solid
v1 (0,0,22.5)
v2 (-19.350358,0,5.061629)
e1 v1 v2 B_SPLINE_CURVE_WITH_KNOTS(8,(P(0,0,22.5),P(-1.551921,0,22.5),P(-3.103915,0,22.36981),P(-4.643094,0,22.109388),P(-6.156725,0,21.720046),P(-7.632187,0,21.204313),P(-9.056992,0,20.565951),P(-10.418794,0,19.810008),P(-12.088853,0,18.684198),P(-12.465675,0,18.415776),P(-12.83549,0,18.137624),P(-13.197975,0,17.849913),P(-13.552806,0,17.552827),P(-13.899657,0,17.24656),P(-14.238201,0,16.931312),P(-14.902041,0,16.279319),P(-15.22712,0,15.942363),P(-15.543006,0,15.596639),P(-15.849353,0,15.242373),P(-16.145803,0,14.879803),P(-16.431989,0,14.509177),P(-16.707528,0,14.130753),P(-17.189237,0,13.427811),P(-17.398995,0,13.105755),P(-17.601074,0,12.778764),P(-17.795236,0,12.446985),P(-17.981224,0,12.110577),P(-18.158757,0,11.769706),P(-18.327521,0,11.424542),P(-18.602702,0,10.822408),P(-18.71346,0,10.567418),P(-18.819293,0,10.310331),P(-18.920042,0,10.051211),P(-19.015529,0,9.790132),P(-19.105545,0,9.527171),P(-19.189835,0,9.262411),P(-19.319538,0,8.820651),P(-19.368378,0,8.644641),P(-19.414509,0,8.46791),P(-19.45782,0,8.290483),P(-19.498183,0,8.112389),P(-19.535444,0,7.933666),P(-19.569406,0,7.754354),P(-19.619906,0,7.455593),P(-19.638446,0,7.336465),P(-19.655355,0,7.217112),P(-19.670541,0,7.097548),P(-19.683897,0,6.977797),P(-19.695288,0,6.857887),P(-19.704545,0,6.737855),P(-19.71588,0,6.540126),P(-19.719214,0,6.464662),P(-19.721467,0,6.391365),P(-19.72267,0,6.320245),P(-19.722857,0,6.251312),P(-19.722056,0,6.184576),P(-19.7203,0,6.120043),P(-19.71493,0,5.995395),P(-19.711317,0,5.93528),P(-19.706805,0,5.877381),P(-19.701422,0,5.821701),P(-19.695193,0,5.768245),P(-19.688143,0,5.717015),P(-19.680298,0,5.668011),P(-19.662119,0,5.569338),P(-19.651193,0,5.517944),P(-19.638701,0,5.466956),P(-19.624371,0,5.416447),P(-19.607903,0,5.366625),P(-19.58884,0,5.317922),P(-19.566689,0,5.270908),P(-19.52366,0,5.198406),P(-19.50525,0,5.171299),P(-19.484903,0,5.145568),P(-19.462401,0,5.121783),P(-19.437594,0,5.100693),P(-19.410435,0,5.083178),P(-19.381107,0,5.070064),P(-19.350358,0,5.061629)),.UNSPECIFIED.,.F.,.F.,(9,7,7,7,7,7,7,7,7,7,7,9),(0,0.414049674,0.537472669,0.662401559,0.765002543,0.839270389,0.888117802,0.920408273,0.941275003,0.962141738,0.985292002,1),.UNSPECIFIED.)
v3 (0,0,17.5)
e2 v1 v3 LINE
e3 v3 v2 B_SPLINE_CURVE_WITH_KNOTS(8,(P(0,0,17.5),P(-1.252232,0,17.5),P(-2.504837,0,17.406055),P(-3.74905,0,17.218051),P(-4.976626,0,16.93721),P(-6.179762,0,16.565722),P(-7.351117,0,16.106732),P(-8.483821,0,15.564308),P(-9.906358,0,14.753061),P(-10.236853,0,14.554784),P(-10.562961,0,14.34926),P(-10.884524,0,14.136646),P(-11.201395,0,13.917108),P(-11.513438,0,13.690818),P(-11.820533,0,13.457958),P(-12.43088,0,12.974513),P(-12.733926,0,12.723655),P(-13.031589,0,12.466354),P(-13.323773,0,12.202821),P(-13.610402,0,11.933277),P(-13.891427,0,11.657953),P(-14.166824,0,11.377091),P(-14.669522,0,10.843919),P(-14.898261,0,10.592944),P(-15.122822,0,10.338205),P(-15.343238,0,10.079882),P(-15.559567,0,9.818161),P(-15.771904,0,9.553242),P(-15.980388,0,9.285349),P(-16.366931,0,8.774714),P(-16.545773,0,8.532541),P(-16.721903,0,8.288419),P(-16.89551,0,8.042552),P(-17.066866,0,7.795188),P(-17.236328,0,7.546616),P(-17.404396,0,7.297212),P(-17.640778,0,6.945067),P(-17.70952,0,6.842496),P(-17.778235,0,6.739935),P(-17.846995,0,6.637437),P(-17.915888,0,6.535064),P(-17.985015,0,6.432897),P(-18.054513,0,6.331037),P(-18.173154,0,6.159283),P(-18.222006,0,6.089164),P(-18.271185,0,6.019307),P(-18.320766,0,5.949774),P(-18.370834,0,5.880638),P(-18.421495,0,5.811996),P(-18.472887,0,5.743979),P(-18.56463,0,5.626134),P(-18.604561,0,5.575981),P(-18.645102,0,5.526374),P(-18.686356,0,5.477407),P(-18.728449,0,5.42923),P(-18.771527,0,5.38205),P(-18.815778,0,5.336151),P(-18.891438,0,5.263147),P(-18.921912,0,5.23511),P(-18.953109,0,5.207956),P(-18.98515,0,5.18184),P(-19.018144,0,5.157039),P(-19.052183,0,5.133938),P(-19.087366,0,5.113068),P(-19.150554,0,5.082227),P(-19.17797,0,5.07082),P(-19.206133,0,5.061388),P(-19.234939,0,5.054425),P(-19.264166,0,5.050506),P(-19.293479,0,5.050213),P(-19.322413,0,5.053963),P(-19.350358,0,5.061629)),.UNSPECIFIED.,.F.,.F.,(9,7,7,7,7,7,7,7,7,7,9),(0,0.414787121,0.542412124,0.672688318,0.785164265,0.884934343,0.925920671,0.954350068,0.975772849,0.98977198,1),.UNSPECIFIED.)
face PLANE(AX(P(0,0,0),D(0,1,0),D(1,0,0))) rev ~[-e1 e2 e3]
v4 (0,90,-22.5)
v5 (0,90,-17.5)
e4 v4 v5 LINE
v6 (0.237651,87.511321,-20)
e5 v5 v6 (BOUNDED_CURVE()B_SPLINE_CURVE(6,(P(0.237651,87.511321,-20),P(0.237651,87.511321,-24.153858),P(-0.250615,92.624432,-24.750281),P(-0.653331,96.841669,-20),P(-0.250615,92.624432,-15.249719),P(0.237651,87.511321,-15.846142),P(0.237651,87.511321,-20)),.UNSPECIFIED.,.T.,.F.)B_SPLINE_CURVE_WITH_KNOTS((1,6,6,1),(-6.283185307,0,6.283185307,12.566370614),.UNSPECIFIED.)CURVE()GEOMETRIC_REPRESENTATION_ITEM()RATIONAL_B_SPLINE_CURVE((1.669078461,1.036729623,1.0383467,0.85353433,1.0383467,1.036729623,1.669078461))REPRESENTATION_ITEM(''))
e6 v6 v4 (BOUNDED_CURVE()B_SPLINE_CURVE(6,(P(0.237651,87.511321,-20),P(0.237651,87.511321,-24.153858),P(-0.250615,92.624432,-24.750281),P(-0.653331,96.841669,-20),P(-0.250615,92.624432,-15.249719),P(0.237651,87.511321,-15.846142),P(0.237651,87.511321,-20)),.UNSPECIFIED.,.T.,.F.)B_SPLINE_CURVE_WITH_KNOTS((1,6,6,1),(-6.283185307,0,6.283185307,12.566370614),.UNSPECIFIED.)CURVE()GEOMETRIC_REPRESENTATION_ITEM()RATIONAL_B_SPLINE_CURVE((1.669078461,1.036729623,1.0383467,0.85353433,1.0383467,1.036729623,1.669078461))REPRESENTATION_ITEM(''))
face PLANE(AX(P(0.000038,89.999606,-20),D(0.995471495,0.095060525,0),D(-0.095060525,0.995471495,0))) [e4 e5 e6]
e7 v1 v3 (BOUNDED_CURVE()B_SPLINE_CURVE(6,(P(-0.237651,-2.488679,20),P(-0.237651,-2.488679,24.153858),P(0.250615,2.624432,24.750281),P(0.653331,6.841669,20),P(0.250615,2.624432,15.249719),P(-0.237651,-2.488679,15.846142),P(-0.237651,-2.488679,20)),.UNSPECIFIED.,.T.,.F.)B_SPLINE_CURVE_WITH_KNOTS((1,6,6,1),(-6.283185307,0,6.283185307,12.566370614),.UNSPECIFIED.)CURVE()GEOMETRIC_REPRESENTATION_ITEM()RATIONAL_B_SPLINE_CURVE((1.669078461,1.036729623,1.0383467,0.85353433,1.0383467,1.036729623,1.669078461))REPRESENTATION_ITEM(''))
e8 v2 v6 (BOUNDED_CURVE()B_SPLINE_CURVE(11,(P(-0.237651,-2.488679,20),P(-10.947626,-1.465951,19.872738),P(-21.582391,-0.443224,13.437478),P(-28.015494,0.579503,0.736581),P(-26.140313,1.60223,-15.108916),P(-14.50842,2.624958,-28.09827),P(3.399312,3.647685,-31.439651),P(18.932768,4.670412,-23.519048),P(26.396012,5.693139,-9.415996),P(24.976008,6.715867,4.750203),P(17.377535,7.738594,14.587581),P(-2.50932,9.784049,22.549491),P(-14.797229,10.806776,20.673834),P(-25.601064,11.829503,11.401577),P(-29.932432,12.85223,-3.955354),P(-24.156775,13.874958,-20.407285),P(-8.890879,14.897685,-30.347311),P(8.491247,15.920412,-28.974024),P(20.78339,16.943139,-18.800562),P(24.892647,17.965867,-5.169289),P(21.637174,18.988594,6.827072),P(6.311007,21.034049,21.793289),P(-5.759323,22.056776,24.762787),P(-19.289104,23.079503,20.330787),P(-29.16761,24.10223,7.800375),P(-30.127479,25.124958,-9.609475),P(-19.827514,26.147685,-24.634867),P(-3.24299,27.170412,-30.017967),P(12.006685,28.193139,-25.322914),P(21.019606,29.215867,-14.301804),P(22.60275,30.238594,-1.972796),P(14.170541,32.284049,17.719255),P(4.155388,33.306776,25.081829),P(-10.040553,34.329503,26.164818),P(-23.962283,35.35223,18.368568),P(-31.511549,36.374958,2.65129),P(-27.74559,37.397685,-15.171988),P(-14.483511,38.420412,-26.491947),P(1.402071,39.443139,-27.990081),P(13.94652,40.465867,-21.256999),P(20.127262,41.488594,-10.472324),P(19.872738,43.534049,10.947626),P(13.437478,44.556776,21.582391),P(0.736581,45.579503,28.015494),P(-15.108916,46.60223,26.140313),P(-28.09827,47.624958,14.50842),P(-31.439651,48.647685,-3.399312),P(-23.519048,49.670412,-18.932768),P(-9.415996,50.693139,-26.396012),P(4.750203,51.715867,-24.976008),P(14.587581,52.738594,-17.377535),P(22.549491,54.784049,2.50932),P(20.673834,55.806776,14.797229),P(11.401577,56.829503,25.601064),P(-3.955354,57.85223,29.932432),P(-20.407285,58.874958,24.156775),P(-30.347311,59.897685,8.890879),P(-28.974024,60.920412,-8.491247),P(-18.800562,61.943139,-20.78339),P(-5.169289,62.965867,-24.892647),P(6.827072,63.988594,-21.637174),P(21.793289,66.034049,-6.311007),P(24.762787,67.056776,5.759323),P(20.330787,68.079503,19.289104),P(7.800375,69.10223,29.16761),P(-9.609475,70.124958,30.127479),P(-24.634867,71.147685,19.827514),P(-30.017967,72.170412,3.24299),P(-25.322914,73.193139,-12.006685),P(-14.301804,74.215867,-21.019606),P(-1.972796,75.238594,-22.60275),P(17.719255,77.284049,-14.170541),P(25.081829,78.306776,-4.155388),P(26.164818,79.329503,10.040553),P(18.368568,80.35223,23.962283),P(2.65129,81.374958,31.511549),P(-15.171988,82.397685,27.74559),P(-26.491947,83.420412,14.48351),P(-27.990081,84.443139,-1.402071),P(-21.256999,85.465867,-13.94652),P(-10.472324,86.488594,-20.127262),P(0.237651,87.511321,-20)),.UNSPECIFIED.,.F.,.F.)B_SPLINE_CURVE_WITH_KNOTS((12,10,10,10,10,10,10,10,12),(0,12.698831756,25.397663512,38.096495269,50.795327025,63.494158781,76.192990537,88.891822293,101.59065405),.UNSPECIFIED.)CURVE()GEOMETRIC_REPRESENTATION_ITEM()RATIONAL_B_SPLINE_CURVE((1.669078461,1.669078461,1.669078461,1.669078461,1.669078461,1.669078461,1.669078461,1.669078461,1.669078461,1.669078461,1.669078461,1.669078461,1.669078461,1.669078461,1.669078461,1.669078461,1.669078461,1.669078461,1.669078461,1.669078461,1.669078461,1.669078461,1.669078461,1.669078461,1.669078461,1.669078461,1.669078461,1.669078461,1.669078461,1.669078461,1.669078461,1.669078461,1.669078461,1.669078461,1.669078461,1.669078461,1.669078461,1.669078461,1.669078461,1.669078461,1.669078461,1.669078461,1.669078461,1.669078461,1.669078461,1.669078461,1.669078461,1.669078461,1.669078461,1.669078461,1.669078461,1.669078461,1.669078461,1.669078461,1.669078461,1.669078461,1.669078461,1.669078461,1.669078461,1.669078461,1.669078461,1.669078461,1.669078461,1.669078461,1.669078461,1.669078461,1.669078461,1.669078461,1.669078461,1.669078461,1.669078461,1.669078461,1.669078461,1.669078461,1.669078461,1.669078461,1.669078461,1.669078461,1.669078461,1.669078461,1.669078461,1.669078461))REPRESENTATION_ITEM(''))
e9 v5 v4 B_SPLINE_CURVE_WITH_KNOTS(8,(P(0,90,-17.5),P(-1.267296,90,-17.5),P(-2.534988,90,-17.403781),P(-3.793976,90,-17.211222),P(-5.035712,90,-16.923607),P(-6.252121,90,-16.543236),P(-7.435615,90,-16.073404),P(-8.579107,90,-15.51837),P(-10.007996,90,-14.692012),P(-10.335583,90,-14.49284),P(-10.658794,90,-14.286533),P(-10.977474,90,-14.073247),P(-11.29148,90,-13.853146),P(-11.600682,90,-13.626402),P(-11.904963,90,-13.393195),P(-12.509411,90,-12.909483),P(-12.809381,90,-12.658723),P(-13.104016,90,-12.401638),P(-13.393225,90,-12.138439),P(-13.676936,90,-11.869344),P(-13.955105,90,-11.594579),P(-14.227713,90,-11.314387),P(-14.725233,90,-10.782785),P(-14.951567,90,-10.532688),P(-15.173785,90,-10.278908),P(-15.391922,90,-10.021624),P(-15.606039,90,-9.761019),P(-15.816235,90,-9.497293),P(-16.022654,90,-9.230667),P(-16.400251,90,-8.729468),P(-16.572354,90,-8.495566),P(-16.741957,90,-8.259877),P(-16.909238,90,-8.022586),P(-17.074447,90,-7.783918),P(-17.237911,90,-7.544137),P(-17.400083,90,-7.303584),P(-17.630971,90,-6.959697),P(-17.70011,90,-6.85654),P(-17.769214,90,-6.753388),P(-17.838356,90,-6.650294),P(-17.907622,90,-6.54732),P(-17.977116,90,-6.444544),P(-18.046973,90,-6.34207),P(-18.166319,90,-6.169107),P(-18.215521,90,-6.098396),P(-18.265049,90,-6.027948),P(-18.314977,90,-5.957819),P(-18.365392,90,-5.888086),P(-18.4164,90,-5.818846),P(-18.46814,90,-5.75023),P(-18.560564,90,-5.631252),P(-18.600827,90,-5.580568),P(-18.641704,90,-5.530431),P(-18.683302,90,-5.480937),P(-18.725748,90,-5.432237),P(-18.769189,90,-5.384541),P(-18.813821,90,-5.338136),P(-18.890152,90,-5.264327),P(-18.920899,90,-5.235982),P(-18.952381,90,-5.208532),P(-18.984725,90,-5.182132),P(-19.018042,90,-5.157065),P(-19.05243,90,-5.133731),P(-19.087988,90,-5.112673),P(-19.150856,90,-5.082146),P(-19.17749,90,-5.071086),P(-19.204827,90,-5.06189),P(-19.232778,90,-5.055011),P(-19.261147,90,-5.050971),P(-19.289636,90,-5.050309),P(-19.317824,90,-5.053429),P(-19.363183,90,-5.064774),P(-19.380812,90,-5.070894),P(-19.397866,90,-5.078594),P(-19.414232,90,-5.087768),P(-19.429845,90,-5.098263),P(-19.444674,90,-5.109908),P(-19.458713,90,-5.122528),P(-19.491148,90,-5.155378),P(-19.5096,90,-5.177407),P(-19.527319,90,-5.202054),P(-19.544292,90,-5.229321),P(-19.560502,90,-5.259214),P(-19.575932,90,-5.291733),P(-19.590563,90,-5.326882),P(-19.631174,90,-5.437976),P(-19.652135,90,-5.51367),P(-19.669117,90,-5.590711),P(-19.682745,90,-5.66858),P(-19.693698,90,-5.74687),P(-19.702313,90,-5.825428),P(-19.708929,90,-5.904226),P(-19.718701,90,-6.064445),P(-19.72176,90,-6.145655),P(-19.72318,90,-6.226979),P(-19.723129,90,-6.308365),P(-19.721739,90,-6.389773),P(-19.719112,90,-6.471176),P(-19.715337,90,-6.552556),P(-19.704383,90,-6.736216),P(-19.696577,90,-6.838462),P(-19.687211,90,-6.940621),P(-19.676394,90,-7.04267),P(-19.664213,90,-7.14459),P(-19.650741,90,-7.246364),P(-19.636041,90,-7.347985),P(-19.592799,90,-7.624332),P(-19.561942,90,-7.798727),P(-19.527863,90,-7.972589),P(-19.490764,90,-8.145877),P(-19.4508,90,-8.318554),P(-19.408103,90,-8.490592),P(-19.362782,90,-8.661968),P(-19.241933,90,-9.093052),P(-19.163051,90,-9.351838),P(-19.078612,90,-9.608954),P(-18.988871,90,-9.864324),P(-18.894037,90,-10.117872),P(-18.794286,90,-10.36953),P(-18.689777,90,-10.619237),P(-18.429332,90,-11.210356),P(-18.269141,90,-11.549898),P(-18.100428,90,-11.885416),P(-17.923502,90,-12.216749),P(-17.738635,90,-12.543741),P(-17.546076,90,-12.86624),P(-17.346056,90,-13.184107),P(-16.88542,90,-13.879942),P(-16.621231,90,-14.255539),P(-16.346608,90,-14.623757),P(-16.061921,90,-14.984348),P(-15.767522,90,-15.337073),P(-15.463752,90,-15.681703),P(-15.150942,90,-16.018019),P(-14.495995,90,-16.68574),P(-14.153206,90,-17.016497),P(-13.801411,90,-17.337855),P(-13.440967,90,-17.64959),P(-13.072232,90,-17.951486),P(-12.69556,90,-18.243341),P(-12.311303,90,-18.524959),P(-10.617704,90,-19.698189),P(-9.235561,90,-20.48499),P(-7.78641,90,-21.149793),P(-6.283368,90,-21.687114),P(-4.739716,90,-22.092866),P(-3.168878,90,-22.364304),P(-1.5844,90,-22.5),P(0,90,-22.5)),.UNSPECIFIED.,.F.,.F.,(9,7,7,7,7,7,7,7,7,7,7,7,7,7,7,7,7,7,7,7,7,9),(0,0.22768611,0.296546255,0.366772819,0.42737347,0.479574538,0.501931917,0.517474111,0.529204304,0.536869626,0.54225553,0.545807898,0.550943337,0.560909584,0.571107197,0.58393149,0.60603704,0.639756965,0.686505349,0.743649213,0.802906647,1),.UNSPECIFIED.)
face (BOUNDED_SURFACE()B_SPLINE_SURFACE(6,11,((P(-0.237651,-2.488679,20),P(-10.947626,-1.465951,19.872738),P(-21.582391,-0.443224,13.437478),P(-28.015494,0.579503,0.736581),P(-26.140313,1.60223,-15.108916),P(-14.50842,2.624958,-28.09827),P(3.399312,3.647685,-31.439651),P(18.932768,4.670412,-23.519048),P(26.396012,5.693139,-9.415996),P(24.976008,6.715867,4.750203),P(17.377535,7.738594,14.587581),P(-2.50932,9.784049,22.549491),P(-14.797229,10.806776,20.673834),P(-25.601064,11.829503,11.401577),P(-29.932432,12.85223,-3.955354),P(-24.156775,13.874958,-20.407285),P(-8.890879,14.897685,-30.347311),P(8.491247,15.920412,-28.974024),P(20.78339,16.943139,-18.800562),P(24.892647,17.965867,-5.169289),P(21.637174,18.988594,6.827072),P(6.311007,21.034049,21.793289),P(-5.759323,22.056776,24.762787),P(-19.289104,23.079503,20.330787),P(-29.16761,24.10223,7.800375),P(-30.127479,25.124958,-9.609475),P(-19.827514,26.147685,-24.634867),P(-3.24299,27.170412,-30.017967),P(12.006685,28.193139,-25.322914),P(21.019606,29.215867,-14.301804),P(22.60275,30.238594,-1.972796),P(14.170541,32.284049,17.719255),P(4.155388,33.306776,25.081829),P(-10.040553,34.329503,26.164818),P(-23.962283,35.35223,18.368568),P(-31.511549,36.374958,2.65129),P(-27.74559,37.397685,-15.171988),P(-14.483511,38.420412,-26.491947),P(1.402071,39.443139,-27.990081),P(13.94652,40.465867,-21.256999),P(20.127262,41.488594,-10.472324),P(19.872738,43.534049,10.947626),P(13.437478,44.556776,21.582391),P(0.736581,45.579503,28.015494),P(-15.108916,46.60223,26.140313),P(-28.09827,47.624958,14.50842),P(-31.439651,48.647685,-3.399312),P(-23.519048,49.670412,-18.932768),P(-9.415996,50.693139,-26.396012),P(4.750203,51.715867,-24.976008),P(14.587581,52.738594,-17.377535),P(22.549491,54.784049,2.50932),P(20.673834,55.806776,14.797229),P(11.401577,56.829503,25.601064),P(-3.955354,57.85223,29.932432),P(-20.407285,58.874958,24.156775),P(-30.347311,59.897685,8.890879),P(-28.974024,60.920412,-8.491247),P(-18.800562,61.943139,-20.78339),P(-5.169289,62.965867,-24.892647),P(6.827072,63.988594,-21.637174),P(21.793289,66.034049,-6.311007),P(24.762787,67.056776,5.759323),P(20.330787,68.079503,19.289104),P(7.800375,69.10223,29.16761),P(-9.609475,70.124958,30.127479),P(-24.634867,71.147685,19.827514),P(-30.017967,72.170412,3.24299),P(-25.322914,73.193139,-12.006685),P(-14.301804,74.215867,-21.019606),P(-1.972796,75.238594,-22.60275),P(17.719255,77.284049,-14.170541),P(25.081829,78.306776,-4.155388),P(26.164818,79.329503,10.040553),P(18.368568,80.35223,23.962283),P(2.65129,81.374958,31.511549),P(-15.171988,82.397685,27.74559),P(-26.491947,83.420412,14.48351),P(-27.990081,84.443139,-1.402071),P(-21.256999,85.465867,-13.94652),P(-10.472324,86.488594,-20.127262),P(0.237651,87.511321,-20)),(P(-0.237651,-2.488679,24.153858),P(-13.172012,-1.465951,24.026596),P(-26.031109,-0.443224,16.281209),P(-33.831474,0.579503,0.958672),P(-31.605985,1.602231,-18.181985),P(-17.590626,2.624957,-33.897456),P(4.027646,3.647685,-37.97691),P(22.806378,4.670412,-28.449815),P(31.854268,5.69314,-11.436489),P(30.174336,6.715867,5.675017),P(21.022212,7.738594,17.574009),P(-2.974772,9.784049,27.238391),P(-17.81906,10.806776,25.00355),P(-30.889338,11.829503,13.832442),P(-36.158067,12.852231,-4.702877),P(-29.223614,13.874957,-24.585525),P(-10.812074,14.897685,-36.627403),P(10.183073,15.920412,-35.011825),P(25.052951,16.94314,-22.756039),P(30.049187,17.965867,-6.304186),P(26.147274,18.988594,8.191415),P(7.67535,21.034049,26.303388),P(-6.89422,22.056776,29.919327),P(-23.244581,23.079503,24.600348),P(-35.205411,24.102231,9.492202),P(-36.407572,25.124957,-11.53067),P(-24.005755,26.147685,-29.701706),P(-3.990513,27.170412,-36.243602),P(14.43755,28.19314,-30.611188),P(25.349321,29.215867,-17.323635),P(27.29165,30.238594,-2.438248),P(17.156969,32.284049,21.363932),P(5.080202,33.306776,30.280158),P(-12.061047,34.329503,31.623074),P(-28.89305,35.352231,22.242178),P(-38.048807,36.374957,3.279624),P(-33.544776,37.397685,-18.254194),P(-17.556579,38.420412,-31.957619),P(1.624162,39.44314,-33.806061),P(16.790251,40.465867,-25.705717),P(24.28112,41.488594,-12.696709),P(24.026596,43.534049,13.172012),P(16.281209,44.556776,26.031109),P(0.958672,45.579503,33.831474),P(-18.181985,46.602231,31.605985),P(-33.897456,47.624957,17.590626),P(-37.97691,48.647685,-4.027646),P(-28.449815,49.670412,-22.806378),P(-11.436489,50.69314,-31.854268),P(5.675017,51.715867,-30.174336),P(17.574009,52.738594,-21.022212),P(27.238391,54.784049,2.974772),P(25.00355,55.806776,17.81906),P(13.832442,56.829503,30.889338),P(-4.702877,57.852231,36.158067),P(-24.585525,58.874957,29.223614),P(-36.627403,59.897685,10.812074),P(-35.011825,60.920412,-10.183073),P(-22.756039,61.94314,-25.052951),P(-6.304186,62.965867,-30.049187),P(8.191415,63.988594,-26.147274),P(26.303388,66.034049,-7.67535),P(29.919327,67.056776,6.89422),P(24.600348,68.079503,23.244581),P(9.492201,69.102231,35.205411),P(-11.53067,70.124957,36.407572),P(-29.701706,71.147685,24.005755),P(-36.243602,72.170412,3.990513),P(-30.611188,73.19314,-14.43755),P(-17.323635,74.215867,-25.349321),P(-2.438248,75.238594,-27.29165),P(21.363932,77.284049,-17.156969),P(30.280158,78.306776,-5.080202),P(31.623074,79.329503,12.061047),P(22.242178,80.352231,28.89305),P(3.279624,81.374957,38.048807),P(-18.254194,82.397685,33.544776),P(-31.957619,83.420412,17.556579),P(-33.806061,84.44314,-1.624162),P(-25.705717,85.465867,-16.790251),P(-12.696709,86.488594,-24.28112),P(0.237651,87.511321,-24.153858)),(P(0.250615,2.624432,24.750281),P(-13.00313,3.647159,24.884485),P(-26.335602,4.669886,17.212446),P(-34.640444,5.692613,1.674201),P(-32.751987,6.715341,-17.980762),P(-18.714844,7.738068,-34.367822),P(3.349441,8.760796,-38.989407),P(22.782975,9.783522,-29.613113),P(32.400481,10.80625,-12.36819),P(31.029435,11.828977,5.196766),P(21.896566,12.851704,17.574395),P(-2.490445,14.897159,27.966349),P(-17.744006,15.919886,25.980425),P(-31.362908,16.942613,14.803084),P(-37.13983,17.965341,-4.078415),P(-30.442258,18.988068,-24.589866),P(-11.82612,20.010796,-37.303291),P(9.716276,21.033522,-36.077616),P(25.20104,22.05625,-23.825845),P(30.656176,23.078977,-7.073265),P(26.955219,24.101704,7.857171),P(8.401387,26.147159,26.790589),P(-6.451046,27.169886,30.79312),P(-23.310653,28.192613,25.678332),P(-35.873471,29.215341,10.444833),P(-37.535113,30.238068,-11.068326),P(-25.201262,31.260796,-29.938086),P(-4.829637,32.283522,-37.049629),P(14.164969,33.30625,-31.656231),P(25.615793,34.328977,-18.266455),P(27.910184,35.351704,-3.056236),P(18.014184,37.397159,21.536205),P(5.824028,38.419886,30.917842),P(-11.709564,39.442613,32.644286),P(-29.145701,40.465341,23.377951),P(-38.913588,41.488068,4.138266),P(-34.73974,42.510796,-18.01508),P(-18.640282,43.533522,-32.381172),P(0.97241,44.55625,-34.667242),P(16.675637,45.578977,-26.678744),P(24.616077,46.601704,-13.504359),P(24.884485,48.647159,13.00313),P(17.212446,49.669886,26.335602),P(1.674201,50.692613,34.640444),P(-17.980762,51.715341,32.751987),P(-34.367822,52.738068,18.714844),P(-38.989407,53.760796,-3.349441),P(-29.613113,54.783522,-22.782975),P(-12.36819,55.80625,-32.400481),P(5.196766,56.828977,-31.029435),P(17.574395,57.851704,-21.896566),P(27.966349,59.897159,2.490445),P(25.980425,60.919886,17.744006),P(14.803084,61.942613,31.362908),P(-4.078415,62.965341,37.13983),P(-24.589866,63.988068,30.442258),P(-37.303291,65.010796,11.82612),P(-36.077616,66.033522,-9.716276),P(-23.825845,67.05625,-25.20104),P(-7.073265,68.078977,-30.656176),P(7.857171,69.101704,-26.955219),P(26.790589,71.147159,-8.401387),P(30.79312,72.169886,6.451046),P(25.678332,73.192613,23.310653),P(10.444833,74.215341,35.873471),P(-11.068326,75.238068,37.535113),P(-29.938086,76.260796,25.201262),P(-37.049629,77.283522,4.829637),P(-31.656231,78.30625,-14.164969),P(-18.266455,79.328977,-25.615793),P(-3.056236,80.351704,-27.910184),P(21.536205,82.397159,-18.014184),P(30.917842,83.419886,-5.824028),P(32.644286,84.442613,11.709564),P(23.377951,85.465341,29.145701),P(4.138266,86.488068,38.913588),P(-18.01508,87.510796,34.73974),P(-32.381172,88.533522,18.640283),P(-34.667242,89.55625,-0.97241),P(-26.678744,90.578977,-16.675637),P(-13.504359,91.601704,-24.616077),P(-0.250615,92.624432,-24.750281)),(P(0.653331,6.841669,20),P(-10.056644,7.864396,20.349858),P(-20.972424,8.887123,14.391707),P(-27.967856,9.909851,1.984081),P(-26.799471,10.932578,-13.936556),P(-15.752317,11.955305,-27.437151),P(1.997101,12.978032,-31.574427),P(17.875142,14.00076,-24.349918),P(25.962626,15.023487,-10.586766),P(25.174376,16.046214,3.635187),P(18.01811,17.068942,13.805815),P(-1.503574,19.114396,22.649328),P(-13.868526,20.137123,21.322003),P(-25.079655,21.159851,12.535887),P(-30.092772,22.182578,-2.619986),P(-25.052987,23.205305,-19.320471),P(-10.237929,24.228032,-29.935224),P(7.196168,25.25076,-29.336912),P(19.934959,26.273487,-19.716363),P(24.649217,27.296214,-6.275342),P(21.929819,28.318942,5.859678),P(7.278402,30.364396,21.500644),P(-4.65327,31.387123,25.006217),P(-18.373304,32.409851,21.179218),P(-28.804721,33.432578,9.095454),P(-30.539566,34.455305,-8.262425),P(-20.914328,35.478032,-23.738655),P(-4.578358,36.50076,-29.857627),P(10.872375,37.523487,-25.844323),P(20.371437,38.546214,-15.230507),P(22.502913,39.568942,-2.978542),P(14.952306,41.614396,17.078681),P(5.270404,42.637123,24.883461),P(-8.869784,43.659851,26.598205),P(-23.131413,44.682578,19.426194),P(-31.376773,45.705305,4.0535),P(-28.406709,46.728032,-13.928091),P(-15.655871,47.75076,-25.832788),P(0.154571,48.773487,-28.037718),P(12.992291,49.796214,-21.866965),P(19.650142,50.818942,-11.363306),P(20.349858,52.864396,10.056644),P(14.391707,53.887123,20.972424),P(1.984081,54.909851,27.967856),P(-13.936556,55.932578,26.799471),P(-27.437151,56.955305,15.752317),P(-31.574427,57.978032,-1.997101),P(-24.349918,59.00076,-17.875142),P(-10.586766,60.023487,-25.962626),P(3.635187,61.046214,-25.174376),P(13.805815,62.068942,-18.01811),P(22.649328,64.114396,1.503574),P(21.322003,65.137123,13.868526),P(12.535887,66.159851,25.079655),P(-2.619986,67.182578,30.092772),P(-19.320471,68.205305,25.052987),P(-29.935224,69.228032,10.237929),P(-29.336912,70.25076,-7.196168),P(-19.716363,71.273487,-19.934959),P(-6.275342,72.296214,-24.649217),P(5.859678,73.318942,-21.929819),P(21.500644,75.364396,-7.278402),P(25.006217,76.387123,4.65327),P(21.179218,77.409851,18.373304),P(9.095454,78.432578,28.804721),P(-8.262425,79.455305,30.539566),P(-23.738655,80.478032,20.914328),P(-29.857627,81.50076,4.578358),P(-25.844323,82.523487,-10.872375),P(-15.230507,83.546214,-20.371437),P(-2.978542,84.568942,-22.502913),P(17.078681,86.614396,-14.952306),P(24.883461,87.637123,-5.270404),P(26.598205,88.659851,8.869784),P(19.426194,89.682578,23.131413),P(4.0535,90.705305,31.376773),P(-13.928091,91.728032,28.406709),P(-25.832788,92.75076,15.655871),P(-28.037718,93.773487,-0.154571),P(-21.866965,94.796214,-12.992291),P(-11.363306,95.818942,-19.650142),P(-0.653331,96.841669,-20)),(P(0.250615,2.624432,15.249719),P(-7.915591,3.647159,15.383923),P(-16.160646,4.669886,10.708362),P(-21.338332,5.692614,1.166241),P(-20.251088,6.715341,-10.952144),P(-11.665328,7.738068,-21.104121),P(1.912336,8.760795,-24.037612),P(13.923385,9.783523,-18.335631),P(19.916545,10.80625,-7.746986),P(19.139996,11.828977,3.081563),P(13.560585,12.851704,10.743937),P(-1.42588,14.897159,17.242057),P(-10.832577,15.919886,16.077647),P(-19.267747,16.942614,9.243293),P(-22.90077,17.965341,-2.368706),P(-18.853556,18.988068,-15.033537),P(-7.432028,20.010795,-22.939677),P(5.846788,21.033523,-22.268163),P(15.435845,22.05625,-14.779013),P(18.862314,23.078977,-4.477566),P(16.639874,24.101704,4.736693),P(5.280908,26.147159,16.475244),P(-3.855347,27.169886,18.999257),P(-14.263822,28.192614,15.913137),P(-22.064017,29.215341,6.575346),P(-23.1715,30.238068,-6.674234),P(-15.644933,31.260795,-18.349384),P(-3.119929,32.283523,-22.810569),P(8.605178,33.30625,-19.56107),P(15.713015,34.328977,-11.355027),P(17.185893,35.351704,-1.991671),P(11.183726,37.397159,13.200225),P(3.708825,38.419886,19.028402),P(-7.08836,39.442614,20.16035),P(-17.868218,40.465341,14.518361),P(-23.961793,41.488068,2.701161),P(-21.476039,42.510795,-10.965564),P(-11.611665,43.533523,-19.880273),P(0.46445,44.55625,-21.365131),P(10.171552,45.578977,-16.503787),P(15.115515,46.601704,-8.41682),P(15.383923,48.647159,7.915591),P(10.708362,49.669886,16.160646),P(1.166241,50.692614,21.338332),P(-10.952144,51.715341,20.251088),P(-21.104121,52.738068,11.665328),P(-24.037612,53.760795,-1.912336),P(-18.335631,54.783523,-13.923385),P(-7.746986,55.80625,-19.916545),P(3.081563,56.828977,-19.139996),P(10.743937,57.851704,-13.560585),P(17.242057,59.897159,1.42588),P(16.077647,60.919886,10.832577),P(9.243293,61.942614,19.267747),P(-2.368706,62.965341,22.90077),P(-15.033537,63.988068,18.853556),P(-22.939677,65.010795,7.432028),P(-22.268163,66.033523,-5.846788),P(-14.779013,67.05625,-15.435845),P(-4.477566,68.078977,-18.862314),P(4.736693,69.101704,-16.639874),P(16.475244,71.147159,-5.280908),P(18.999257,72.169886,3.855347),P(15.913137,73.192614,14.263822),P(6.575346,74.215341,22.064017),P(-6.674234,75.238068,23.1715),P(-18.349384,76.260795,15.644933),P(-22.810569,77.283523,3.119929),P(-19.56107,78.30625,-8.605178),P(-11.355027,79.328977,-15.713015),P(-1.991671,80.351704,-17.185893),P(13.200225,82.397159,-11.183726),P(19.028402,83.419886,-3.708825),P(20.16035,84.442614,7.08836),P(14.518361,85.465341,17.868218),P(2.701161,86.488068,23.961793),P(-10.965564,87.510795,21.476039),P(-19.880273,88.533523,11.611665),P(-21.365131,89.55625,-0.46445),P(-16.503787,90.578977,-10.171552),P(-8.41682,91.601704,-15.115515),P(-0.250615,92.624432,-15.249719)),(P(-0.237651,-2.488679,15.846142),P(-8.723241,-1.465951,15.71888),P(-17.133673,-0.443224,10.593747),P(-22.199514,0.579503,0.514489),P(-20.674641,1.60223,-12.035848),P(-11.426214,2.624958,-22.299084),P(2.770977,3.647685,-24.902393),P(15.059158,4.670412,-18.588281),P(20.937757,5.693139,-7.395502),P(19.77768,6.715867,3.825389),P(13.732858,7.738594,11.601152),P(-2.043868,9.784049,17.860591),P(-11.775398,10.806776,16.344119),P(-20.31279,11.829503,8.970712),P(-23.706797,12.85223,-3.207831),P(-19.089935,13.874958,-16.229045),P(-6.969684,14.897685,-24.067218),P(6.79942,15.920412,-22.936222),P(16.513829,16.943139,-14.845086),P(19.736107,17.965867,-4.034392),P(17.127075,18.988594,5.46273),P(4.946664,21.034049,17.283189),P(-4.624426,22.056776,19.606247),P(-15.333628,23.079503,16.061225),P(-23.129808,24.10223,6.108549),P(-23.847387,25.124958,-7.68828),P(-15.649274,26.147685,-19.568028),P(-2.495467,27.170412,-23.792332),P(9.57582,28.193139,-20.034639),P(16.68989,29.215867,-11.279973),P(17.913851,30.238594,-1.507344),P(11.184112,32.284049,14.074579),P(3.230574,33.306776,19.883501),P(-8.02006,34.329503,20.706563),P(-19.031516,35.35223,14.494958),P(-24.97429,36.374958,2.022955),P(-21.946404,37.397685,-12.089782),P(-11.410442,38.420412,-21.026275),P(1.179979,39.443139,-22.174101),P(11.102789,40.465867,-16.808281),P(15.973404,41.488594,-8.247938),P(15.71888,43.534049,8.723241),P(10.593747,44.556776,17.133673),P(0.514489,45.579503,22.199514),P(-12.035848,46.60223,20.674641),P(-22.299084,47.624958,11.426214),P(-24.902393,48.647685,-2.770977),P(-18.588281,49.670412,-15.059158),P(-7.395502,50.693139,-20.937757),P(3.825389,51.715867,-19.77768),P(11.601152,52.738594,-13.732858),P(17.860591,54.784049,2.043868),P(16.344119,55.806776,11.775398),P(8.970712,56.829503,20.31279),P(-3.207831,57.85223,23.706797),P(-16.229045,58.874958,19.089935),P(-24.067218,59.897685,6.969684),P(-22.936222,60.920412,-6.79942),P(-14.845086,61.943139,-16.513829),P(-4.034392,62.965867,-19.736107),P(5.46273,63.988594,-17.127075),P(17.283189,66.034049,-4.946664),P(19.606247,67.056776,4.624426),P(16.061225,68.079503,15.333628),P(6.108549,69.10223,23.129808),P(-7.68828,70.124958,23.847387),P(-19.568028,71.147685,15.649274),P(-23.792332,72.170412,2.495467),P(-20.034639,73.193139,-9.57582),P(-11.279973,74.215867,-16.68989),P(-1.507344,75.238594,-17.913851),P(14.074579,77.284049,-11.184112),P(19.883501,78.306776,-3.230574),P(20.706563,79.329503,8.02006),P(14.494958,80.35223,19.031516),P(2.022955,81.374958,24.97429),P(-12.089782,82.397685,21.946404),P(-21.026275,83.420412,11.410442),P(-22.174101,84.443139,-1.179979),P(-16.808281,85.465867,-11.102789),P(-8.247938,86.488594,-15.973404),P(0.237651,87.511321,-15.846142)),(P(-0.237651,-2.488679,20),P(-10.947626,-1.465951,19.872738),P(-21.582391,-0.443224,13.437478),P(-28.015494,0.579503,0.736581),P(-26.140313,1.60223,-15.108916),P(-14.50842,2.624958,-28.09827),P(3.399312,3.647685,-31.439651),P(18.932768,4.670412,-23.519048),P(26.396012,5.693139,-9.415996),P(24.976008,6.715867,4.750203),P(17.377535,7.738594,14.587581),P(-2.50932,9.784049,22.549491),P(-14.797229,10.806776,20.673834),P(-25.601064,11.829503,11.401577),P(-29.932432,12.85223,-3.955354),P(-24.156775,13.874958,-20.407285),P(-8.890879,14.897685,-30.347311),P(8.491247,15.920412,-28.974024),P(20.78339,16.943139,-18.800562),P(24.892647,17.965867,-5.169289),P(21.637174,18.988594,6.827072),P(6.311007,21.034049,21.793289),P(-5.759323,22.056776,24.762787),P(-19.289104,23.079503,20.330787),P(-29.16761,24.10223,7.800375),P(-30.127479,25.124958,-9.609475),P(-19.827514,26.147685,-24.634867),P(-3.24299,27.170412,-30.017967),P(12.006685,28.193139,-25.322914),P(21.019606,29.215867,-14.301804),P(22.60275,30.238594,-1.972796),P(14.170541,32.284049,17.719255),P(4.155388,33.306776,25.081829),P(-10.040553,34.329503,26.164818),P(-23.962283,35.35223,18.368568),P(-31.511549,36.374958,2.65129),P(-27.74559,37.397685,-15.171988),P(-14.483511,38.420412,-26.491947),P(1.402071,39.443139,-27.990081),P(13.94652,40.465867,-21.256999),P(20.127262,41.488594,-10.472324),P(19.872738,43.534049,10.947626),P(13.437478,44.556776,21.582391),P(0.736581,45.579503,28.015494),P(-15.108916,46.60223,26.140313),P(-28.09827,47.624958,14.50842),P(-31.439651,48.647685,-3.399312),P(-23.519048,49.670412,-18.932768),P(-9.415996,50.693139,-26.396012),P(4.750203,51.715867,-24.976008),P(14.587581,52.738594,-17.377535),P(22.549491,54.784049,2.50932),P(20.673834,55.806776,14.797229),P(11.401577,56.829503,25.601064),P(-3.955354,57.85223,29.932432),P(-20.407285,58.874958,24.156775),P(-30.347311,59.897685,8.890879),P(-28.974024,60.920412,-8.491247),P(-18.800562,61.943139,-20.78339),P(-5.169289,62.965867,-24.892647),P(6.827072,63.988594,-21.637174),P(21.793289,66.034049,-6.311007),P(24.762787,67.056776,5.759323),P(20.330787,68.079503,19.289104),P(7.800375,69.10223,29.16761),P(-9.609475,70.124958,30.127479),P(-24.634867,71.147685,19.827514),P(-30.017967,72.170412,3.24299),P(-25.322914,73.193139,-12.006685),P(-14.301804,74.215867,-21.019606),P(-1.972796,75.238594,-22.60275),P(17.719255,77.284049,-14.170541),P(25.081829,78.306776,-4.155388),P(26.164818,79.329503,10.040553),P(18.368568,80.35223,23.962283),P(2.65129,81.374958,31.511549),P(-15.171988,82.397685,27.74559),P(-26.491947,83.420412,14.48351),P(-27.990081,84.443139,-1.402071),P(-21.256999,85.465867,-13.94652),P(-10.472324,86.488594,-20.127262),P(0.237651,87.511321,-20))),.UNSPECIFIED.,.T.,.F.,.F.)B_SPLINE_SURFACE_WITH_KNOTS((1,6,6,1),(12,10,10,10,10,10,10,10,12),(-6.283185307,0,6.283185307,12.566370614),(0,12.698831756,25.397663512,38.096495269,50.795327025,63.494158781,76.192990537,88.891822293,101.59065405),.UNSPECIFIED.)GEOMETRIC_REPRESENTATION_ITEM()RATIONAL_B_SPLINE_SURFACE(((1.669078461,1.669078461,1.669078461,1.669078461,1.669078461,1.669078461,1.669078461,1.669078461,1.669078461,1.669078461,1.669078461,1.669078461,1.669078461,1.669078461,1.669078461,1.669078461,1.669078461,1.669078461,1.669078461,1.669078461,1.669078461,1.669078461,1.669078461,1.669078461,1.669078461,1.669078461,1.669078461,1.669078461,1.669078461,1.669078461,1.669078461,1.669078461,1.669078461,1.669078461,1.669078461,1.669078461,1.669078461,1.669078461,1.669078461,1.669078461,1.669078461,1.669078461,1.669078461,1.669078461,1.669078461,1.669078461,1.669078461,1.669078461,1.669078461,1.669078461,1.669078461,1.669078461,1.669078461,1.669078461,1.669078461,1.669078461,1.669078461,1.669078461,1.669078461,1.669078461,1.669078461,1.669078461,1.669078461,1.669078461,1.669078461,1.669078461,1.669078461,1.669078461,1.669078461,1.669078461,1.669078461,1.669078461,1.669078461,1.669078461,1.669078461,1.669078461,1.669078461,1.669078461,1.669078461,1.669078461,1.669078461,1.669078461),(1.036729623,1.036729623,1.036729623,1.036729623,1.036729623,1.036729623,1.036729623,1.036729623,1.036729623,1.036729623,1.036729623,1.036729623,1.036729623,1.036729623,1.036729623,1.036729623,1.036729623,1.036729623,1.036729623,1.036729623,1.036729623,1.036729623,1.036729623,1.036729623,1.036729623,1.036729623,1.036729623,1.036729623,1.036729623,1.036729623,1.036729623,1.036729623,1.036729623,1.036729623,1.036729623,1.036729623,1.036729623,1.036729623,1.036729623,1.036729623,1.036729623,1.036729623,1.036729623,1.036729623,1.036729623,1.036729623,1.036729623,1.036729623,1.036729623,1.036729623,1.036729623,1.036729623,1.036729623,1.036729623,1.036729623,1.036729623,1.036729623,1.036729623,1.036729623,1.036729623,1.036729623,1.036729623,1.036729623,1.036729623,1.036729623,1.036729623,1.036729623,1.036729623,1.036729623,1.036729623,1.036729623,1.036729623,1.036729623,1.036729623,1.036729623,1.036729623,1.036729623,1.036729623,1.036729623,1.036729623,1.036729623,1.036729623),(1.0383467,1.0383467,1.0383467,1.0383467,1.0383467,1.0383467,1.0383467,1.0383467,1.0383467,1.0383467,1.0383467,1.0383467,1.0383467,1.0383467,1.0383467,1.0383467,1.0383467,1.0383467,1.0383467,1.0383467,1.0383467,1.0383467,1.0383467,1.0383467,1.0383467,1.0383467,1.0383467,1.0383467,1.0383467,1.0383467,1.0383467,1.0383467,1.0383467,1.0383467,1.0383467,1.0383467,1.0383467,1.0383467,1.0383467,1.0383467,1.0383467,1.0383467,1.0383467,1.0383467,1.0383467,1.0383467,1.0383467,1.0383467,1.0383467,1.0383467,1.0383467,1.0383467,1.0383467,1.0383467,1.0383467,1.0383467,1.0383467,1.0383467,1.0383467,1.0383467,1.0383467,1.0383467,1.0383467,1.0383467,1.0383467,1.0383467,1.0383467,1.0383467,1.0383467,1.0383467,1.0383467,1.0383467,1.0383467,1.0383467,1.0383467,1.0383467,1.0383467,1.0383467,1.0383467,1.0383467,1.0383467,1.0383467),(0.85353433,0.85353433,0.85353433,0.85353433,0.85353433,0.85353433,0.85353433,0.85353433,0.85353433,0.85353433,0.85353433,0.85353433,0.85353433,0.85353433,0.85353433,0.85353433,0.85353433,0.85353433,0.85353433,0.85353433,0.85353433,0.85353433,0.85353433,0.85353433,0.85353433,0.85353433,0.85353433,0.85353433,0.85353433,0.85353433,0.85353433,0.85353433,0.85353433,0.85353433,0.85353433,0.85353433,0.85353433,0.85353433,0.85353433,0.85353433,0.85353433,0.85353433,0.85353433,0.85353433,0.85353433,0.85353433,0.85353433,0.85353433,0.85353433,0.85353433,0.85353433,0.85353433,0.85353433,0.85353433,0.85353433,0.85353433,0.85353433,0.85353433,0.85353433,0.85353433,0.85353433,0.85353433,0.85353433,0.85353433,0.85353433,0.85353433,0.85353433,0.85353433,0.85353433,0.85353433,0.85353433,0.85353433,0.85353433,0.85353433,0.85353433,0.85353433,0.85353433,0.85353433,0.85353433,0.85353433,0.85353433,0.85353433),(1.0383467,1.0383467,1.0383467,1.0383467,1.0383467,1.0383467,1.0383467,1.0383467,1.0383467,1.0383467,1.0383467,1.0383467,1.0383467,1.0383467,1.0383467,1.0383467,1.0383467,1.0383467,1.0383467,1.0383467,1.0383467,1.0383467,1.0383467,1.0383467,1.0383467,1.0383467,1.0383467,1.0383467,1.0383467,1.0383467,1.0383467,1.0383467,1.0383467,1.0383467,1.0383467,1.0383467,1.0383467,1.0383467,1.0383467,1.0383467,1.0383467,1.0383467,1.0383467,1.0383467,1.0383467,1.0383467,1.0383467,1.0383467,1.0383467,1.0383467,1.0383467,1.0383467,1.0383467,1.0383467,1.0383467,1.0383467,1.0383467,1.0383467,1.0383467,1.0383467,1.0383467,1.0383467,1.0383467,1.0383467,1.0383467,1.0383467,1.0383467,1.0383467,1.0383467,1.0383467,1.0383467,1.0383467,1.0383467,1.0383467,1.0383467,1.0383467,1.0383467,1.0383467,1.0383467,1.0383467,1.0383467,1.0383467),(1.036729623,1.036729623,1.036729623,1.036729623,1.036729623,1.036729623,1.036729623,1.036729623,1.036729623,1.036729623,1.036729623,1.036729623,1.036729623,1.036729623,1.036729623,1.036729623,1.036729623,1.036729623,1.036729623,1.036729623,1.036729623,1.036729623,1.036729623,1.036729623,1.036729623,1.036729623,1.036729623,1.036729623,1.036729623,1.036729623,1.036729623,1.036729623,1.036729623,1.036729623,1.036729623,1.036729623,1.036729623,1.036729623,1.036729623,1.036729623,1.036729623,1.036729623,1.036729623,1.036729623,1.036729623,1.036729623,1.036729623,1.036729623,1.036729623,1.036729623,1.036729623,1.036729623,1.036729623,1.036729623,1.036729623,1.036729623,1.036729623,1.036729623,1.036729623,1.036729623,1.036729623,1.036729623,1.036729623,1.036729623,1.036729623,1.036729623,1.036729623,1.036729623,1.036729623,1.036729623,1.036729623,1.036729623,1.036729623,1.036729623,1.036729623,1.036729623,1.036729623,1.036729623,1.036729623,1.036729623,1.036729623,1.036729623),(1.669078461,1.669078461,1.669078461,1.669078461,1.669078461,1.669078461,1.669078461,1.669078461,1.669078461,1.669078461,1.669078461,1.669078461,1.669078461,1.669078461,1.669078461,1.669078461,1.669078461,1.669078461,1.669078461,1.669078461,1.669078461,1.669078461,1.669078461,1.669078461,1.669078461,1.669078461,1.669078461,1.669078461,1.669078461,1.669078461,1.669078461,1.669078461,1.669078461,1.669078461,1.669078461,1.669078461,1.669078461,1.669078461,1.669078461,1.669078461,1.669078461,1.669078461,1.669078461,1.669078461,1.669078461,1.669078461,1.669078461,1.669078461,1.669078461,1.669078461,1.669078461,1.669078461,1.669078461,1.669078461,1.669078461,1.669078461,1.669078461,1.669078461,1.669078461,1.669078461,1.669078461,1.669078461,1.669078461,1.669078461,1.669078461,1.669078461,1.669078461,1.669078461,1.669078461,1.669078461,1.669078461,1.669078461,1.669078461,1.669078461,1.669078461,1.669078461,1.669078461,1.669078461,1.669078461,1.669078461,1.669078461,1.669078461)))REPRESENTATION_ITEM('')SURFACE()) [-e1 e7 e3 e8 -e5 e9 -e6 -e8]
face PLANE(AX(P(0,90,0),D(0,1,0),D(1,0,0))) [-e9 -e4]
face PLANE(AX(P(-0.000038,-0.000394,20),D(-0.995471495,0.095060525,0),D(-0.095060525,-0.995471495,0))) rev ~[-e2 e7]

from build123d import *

# Parameters (mm, degrees)
COIL_WIRE_SWEEP_PITCH        = 12
COIL_WIRE_SWEEP_HEIGHT       = 90
COIL_WIRE_SWEEP_RADIUS       = 20
COIL_WIRE_SWEEP_PROFILE_R    = 2.5
SKETCH8_R                    = 30
BOTTOM_GROUND_SEAT_CUT_DEPTH = 98.809287702
SKETCH9_R                    = 30
TOP_GROUND_SEAT_CUT_DEPTH    = 98.809287702


with BuildPart() as part:
    # Coil Wire Sweep: sweep along a helix
    with BuildLine() as coil_wire_sweep_path:
        Helix(COIL_WIRE_SWEEP_PITCH, COIL_WIRE_SWEEP_HEIGHT, COIL_WIRE_SWEEP_RADIUS, center=(0, 0, 0), direction=(0, 1, 0), lefthand=True)
    # Coil Wire Sweep profile (on start of the path) → Coil Wire Sweep (sweep)
    with BuildSketch(Plane(origin=(0, 0, 20), x_dir=(-0.09506052544078494, -0.9954714945707496, 0), z_dir=(-0.9954714945707496, 0.09506052544078494, 2.705319257574724e-13))):
        Circle(COIL_WIRE_SWEEP_PROFILE_R)
    sweep(path=coil_wire_sweep_path.line, is_frenet=True)

    # Sketch8 → Bottom Ground Seat Cut (cut, through all)
    with BuildSketch(Plane(origin=(0, 0, 0), x_dir=(1, 0, 0), z_dir=(0, 1, 0))):
        Circle(SKETCH8_R)
    extrude(amount=-BOTTOM_GROUND_SEAT_CUT_DEPTH, mode=Mode.SUBTRACT)

    # Sketch9 → Top Ground Seat Cut (cut, through all)
    with BuildSketch(Plane(origin=(0, 90, 0), x_dir=(1, 0, 0), z_dir=(0, 1, 0))):
        Circle(SKETCH9_R)
    extrude(amount=TOP_GROUND_SEAT_CUT_DEPTH, mode=Mode.SUBTRACT)


solid = part.part
